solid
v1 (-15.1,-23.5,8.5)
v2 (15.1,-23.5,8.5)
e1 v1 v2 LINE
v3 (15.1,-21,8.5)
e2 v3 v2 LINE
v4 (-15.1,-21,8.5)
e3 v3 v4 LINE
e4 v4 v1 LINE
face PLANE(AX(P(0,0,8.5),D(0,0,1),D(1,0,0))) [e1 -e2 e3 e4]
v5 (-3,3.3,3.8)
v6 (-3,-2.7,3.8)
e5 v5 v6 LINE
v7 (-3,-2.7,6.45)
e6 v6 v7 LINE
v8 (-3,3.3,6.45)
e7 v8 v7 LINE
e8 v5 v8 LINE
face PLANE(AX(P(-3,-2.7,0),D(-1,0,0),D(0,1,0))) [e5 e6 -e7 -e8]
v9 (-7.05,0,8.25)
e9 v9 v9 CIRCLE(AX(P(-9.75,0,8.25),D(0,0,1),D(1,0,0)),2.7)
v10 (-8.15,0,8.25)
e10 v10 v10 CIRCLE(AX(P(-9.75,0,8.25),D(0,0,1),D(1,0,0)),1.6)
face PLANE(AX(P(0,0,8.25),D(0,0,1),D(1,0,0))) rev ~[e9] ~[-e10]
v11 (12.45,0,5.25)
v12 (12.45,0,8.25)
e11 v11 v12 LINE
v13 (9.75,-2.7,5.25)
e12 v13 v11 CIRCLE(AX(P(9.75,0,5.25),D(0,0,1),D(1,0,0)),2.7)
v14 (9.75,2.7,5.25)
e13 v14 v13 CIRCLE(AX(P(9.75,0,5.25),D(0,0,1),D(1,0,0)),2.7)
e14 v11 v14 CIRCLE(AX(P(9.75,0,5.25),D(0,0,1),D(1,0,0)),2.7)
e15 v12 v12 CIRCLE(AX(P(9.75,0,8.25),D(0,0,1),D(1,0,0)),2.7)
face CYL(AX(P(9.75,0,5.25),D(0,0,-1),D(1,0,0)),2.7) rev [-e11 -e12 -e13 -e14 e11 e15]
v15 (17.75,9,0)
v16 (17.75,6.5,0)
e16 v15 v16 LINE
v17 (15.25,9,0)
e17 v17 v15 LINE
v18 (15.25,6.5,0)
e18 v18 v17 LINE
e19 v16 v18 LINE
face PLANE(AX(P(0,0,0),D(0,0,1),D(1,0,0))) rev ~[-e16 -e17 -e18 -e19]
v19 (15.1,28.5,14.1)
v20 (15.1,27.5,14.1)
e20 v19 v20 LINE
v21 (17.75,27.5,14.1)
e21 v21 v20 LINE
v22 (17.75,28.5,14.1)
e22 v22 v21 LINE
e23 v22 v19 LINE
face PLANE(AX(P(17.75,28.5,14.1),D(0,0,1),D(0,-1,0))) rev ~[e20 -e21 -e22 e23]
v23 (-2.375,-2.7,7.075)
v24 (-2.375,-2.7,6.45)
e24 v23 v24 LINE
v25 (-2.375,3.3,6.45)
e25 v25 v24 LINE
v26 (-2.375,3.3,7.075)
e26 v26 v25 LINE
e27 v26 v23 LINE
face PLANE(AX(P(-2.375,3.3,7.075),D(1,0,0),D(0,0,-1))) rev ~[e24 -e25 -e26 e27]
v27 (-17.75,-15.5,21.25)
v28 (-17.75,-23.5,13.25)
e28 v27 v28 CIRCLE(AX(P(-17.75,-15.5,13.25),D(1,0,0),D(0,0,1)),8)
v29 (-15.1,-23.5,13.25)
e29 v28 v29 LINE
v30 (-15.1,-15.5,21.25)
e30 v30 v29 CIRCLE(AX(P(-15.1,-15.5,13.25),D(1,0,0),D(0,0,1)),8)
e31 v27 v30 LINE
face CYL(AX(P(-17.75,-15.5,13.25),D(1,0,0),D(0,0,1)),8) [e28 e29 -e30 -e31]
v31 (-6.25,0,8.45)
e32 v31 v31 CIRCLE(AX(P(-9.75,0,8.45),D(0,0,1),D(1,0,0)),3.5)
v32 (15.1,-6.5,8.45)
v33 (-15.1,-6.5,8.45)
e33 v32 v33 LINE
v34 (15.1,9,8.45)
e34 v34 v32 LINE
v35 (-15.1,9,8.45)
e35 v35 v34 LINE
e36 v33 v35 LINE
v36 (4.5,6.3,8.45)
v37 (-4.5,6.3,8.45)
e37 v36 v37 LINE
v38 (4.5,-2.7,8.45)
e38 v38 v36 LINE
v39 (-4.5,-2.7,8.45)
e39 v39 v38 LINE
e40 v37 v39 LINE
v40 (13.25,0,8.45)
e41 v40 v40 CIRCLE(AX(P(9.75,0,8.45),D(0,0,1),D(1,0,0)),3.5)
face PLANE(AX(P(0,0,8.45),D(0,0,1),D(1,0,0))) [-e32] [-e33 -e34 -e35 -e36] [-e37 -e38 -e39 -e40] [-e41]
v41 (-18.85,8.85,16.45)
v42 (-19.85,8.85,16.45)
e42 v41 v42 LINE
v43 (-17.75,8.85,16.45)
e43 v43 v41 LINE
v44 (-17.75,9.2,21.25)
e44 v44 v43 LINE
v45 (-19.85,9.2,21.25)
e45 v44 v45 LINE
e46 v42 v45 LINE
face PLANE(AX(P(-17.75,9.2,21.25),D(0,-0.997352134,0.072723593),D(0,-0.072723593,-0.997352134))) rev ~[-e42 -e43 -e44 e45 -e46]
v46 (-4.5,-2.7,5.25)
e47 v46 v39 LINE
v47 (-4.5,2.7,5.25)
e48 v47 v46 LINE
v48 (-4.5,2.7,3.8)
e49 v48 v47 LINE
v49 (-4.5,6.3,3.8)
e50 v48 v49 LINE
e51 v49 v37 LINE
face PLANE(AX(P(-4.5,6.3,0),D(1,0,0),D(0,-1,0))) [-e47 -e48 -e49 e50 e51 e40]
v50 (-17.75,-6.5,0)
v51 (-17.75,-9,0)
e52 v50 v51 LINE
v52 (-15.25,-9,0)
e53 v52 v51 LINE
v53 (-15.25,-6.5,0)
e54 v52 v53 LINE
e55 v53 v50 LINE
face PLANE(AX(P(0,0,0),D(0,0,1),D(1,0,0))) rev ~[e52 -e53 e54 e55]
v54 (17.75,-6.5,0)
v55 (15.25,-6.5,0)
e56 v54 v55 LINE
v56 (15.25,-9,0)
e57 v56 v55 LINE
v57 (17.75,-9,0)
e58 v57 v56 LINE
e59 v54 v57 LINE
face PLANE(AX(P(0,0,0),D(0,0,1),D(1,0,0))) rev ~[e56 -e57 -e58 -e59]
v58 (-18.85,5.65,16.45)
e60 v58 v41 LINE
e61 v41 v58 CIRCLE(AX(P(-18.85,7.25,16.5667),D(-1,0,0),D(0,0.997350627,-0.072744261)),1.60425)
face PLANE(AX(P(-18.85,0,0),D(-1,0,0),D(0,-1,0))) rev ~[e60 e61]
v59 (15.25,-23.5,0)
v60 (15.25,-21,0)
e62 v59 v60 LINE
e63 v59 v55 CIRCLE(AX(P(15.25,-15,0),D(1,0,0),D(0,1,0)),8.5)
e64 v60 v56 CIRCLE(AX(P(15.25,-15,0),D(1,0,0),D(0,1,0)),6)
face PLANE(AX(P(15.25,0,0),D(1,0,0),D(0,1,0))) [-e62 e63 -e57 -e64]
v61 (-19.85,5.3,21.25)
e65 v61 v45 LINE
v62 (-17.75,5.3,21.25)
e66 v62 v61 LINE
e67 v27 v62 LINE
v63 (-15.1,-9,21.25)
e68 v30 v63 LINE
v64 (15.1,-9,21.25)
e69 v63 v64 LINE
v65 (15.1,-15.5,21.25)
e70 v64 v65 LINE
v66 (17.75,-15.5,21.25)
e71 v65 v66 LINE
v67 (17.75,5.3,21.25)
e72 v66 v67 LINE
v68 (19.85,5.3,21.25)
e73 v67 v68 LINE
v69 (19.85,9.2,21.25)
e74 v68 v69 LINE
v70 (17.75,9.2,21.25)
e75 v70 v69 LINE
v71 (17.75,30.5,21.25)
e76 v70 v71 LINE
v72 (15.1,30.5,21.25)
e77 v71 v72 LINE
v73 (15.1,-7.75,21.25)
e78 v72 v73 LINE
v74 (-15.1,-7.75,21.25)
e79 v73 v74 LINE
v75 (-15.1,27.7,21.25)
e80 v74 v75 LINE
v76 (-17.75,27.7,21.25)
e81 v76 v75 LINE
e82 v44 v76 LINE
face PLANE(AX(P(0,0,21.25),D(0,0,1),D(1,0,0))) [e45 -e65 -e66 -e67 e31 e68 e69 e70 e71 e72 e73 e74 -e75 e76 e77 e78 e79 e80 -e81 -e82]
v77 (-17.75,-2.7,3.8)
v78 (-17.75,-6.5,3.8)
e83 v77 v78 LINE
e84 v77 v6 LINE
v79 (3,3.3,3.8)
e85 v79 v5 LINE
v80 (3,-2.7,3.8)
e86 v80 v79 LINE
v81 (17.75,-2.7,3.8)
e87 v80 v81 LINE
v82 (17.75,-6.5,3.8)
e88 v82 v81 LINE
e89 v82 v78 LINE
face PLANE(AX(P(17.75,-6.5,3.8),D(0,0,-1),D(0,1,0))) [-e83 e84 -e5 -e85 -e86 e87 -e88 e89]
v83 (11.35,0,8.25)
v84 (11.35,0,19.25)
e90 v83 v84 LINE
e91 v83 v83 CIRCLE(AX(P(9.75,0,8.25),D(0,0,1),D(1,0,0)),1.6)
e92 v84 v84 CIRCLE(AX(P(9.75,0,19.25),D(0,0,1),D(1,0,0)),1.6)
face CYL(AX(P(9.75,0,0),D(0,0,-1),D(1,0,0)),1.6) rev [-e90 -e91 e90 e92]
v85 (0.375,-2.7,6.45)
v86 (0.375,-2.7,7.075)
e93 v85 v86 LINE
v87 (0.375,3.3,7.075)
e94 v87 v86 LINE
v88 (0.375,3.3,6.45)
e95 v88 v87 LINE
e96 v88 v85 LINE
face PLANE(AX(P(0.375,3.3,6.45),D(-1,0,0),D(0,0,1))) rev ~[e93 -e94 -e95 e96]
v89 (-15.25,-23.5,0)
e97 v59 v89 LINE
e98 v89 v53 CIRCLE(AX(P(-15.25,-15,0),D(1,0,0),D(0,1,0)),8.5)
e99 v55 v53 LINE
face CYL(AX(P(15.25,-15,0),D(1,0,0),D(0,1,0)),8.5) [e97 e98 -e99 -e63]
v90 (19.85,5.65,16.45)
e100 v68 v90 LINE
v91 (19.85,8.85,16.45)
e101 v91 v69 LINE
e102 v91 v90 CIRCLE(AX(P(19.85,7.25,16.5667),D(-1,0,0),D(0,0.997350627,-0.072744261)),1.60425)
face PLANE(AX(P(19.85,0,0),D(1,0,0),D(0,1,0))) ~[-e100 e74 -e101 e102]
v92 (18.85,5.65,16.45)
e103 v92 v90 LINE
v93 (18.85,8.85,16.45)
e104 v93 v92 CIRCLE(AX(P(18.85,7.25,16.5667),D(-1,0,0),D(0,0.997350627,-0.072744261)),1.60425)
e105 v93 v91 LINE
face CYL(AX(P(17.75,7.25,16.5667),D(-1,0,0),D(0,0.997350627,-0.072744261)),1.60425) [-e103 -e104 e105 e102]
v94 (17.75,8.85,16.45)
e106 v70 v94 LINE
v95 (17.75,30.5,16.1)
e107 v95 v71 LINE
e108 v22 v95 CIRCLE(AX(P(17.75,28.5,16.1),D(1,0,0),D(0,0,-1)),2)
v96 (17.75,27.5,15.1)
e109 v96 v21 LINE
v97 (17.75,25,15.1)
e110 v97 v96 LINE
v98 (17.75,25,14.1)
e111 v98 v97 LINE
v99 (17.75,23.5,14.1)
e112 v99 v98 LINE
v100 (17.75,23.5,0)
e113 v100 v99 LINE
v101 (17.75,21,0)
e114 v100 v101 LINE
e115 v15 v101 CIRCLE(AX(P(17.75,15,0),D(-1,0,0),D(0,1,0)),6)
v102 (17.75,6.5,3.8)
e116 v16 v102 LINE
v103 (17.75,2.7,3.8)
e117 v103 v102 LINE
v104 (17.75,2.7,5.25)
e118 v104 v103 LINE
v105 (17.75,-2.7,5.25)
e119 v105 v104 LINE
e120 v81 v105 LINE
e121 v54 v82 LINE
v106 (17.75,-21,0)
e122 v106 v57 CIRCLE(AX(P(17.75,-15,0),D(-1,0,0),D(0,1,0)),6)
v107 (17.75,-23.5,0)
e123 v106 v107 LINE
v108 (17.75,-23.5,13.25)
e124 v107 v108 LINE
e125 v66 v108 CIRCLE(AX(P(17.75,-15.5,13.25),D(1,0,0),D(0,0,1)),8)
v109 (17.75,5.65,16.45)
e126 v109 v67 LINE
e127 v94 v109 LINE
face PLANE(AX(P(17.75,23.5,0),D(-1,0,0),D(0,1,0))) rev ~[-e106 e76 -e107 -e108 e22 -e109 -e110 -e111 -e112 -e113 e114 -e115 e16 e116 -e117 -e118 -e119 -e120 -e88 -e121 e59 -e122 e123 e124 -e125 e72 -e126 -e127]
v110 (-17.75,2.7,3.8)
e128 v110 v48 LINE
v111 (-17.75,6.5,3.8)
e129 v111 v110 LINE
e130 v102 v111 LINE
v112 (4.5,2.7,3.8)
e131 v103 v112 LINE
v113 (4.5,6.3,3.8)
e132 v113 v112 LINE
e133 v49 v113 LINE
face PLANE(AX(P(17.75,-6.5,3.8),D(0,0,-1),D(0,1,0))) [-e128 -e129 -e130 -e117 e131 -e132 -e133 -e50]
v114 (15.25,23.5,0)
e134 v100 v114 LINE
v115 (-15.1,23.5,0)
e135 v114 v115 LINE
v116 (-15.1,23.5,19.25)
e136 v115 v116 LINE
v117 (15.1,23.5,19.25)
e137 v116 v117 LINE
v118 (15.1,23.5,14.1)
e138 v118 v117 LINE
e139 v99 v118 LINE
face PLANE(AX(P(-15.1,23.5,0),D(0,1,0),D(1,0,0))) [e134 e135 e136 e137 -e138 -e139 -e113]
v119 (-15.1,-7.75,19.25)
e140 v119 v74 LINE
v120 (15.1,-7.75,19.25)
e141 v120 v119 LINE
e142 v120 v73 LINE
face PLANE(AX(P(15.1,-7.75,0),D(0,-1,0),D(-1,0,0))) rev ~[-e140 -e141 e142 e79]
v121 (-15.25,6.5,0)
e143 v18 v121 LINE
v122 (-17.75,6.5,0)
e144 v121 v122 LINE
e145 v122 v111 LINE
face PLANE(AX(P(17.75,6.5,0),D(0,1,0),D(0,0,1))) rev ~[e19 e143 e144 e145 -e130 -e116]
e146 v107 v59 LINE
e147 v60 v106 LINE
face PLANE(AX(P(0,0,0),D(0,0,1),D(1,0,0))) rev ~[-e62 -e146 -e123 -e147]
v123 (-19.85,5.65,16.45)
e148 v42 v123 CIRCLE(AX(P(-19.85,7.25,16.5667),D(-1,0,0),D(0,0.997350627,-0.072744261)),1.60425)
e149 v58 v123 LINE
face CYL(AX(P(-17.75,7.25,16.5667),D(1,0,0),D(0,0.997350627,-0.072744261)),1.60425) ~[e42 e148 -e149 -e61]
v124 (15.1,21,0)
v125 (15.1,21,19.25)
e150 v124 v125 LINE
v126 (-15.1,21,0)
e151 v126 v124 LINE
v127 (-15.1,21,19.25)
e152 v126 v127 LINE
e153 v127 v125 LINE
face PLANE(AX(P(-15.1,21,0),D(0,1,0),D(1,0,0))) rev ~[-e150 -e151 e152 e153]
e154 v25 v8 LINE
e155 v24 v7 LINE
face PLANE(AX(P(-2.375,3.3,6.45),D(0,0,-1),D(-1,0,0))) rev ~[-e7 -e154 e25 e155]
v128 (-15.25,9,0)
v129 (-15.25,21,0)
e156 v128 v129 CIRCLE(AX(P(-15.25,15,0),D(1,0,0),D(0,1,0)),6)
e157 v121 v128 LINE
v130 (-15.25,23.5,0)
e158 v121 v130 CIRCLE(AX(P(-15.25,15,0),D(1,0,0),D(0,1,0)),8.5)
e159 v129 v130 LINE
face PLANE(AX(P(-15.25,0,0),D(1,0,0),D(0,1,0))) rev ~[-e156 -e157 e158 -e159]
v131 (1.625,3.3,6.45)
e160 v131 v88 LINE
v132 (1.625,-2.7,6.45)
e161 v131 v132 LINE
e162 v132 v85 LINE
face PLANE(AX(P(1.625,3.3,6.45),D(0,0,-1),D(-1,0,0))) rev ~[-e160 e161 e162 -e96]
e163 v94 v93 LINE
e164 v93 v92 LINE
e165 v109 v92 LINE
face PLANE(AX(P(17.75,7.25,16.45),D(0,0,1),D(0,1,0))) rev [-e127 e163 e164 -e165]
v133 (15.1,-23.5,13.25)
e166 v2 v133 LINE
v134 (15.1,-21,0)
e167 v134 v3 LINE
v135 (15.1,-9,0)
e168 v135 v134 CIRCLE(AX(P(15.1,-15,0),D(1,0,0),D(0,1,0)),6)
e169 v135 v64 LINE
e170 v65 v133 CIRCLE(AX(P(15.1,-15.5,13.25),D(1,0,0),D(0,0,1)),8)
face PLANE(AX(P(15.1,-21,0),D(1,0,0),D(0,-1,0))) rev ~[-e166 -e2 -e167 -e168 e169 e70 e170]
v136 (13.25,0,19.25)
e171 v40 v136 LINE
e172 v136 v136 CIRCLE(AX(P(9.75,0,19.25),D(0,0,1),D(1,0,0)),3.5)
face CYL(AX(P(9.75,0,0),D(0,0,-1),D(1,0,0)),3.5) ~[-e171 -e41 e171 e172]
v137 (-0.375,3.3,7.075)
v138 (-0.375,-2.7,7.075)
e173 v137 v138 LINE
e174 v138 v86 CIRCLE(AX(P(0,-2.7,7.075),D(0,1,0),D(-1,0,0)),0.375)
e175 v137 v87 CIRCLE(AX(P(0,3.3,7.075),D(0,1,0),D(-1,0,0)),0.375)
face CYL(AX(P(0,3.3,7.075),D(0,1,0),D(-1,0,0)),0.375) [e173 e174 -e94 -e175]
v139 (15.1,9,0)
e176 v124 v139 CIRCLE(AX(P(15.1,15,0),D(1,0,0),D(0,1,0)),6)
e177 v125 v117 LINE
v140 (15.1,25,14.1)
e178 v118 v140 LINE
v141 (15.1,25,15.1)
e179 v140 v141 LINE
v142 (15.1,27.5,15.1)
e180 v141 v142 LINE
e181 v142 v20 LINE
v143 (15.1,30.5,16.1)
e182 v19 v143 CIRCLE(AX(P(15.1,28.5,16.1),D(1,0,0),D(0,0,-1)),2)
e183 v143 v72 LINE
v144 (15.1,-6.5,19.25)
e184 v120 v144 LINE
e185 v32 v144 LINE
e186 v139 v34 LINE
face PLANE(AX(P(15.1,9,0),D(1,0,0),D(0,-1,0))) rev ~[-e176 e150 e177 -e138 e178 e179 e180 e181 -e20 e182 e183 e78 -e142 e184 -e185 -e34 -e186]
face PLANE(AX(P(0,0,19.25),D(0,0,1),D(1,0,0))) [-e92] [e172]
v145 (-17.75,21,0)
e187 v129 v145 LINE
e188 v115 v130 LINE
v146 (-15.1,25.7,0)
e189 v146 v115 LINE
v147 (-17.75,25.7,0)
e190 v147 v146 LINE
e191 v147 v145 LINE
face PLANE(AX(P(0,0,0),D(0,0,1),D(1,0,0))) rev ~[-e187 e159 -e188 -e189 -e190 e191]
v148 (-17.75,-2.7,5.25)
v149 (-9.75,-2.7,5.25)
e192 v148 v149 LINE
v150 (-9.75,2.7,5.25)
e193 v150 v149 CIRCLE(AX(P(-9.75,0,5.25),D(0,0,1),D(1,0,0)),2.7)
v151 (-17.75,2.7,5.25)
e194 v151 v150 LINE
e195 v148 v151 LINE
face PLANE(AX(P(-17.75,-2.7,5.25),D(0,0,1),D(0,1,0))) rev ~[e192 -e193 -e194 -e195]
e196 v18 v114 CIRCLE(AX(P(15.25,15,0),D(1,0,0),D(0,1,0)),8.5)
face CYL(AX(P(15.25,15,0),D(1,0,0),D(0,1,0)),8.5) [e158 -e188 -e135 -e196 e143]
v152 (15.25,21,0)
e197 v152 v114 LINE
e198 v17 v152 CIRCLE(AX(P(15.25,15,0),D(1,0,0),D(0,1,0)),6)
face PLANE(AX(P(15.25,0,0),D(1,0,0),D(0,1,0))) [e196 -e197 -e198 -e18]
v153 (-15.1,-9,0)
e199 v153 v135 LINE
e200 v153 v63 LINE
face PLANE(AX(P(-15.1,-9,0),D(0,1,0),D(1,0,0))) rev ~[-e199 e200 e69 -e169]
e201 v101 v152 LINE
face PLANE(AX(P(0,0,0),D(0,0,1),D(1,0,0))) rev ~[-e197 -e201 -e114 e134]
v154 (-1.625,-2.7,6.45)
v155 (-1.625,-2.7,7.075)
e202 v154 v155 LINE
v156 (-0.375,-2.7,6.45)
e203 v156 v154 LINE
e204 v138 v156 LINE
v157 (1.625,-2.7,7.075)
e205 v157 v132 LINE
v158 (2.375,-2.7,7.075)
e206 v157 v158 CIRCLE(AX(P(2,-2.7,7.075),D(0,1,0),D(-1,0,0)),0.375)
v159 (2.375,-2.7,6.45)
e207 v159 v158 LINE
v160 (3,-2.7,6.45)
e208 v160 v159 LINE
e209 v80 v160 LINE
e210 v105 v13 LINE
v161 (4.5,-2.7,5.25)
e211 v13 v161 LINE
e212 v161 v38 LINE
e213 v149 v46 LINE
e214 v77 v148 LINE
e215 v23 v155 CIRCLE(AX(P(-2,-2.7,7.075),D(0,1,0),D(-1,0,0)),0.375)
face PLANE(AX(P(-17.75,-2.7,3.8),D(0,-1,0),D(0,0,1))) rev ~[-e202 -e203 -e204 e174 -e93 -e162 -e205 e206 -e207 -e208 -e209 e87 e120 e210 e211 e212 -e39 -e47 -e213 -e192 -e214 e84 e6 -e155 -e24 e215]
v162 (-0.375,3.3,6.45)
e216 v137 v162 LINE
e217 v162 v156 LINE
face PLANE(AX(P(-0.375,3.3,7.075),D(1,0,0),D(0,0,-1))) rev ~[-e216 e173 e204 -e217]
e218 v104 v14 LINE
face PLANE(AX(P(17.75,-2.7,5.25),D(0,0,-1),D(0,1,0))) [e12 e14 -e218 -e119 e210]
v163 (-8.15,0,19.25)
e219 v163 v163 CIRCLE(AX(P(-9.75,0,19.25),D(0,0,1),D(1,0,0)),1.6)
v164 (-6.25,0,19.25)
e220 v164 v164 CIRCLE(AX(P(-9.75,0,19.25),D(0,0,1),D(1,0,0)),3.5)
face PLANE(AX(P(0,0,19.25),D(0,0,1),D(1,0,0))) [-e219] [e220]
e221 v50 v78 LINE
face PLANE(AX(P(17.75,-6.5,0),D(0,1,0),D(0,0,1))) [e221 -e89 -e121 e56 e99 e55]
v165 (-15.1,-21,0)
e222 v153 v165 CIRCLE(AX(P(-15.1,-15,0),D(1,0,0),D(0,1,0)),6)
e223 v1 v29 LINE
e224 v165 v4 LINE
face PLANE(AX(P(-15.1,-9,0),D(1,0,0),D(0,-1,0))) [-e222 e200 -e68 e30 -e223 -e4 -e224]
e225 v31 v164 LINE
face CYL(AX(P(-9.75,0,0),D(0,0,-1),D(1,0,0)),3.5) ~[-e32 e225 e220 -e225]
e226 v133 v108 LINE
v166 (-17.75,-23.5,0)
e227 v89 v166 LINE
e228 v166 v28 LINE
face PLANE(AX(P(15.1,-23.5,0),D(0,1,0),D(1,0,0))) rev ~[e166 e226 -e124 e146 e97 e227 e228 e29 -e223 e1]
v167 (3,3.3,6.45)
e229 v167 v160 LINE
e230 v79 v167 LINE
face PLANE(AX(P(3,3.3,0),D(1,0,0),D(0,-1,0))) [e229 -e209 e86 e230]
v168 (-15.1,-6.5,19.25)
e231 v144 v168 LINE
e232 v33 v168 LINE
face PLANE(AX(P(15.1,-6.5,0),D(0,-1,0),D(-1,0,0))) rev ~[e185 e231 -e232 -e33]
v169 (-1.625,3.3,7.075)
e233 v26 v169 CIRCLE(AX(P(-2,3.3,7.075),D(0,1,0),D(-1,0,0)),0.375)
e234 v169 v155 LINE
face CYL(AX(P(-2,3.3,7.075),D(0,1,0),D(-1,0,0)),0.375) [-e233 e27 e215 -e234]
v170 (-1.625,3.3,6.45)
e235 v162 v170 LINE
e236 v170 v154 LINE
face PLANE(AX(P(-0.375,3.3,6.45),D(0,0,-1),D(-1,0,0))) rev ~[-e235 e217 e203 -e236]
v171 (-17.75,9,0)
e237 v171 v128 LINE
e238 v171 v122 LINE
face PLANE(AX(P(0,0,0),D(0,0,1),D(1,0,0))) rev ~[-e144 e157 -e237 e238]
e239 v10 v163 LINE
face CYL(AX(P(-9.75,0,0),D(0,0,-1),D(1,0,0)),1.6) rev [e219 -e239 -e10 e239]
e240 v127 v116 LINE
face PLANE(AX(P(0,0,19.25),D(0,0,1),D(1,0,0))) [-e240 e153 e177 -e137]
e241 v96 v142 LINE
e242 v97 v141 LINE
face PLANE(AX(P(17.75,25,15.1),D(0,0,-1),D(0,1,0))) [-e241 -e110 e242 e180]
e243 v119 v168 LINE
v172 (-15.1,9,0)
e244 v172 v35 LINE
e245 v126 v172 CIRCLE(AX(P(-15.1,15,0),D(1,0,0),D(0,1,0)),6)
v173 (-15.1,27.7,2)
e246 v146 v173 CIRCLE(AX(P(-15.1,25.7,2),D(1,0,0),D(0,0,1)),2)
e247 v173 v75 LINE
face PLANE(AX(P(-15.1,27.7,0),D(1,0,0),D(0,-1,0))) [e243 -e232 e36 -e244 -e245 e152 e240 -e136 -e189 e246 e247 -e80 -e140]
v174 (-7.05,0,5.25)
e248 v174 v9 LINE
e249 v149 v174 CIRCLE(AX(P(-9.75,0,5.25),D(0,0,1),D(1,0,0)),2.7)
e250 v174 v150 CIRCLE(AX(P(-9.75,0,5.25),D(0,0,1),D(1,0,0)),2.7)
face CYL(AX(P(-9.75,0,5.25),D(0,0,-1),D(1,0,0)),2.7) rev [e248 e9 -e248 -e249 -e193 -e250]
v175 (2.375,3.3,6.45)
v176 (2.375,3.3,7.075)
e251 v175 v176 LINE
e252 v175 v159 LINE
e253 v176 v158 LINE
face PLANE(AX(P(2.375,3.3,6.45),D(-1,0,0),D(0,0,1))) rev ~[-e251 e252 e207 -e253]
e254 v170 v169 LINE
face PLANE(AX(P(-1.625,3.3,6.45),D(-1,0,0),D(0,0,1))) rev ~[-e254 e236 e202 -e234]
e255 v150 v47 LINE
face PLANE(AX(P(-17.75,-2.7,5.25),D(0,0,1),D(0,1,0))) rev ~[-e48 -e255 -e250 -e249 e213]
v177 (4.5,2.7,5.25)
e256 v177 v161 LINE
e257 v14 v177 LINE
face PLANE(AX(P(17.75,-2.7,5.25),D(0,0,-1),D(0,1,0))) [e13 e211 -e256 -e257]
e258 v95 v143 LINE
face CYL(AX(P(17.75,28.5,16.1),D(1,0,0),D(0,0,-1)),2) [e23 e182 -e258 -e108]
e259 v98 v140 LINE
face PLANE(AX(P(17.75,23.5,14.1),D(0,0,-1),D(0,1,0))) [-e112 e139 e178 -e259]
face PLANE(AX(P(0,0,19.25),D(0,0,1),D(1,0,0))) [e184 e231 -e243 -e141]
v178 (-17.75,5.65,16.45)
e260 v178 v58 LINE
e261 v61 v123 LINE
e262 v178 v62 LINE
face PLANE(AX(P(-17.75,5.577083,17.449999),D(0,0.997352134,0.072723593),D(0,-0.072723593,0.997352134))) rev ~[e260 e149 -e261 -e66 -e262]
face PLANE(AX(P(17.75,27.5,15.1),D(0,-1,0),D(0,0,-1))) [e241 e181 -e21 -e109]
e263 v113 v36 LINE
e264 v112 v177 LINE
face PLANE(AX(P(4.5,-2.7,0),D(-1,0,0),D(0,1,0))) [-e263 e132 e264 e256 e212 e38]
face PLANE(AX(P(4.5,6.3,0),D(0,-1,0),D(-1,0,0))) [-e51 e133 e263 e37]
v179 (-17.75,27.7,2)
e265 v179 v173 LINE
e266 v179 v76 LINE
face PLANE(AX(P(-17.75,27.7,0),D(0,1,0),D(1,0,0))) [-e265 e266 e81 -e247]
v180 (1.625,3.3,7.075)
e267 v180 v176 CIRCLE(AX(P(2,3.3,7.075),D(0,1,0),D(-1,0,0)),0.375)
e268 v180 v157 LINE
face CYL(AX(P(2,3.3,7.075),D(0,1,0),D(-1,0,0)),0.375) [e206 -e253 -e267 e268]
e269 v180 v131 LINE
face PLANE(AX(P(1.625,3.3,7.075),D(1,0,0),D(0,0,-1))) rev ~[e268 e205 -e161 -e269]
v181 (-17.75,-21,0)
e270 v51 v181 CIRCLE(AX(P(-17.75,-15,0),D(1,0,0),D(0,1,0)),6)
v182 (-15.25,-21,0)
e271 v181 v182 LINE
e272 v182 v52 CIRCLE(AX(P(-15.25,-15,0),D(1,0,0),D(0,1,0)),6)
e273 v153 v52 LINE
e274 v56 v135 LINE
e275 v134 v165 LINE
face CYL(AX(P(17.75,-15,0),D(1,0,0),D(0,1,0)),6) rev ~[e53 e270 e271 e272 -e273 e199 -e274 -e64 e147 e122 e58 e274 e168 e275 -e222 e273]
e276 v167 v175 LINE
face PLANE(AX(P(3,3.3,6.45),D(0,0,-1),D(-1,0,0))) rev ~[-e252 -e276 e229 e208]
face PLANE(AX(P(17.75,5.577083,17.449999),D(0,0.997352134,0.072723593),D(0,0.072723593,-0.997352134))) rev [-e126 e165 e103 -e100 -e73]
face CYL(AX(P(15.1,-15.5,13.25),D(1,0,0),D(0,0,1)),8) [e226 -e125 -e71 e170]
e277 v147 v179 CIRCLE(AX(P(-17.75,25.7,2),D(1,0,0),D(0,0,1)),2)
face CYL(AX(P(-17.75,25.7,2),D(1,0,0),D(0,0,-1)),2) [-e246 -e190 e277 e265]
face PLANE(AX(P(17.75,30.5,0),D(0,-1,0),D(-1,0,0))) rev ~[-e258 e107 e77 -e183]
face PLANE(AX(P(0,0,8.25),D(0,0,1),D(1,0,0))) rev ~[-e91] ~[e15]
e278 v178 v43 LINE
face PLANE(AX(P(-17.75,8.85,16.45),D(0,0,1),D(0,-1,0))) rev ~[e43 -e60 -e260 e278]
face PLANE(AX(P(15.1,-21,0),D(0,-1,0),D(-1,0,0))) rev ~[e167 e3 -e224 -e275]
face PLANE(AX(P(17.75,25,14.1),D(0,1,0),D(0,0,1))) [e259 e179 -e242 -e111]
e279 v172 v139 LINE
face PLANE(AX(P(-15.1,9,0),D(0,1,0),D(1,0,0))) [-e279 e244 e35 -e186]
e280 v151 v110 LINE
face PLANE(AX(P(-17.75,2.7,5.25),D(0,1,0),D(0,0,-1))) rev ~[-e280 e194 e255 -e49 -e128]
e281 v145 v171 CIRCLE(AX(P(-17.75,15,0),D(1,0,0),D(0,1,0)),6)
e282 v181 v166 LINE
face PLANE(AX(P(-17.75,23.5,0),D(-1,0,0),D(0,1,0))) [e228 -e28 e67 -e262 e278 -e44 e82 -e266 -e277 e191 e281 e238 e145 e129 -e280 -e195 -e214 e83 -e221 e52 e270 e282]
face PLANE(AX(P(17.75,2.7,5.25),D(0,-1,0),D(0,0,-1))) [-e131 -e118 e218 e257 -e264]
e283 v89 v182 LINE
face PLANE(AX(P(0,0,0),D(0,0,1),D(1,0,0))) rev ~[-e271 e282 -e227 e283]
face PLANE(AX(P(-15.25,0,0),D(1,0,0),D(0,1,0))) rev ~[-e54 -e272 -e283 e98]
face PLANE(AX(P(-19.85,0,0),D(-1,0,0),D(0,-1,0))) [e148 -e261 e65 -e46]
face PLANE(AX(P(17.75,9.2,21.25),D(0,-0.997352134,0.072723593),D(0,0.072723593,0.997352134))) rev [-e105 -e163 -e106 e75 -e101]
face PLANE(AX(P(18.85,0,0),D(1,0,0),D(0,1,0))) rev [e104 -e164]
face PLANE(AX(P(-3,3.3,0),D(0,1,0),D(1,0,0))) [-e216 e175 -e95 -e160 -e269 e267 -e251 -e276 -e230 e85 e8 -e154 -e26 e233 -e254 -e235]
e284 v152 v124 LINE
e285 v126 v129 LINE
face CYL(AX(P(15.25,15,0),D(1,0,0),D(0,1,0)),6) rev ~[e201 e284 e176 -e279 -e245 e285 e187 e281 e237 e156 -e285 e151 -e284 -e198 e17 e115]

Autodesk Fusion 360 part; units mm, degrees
sketch "Sketch1" plane through (0, 0, 0) normal (0, 0, 1) x (1, 0, 0) in component "LM6LUU"
  circle A0 centre (0, 0) radius 6
  circle A1 centre (0, 0) radius 3
  dimension "d1" = 12
  dimension "d2" = 6
extrude "Extrude1" add sketch "Sketch1" along normal blind 34 makes body 1 in component "LM6LUU"
copy_body "CutPasteBodies1" bodies 1 removing the originals makes body 2 in component "LM6LUU"
component "LM6LUU" placed x (1, 0, 0) y (0, 1, 0) z (0, 0, 1) at (0, 0, 0)

Autodesk Fusion 360 part; units mm, degrees
sketch "Back" plane through (0, 0, 0) normal (0, 0, 1) x (1, 0, 0) in component "X Carriage"
  line L0 (17.75, 23.5) -> (-17.75, 23.5) construction
  line L1 (-17.75, 23.5) -> (-17.75, -23.5)
  line L2 (-17.75, -23.5) -> (17.75, -23.5)
  line L3 (17.75, -23.5) -> (17.75, 23.5)
  line L4 (0, 23.5) -> (0, -23.5) construction
  line L5 (-17.75, 23.5) -> (-17.75, 27.7)
  line L6 (-17.75, 27.7) -> (-15.1, 27.7)
  line L7 (17.75, 23.5) -> (17.75, 30.5)
  line L8 (17.75, 30.5) -> (15.1, 30.5)
  line L9 (15.1, 30.5) -> (15.1, 23.5)
  line L10 (-15.1, 27.7) -> (-15.1, 23.5)
  line L11 (-15.1, 23.5) -> (15.1, 23.5)
  line L12 (-15.1, 21) -> (15.1, 21)
  line L13 (15.1, 21) -> (15.1, -6.5)
  line L14 (15.1, -6.5) -> (-15.1, -6.5)
  line L15 (-15.1, -6.5) -> (-15.1, 21)
  line L16 (-15.1, -9) -> (15.1, -9)
  line L17 (15.1, -9) -> (15.1, -23.5)
  line L18 (-15.1, -9) -> (-15.1, -23.5)
  line L19 (15.1, -21) -> (-15.1, -21)
  line L20 (-9.75, 0) -> (9.75, 0) construction
  circle A0 centre (-9.75, 0) radius 1.6
  circle A1 centre (9.75, 0) radius 1.6
  circle A2 centre (-9.75, 0) radius 3.5
  circle A3 centre (9.75, 0) radius 3.5
  line L21 (15.1, -7.75) -> (-15.1, -7.75)
  line L22 (-15.1, -7.75) -> (-15.1, -6.5)
  line L23 (15.1, -7.75) -> (15.1, -6.5)
  line L24 (17.75, 9.2) -> (19.75, 9.2)
  line L25 (19.75, 9.2) -> (19.75, 5.3)
  line L26 (19.75, 5.3) -> (17.75, 5.3)
  line L27 (-17.75, 9.2) -> (-19.75, 9.2)
  line L28 (-19.75, 9.2) -> (-19.75, 5.3)
  line L29 (-19.75, 5.3) -> (-17.75, 5.3)
  line L30 (-4.5, -2.7) -> (4.5, -2.7)
  line L31 (4.5, -2.7) -> (4.5, 6.3)
  line L32 (4.5, 6.3) -> (-4.5, 6.3)
  line L33 (-4.5, 6.3) -> (-4.5, -2.7)
  line L34 (-3, -2.7) -> (-3, 3.3)
  line L35 (-3, 3.3) -> (3, 3.3)
  line L36 (3, 3.3) -> (3, -2.7)
  circle A4 centre (9.75, 0) radius 2.7
  circle A5 centre (-9.75, 0) radius 2.7
  line L37 (-15.1, 21) -> (-15.1, 23.5)
  line L38 (15.1, 21) -> (15.1, 23.5)
  line L39 (-15.1, 9) -> (15.1, 9)
  point P0 (0, 21)
  point P1 (0, -2.7)
  point P2 (0, 3.3)
  dimension "d1" = 35.5
  dimension "d2" = 47
  dimension "d3" = 4.2
  dimension "d5" = 7
  dimension "d7" = 30.2
  dimension "d8" = 27.5
  dimension "d9" = 2.5
  dimension "d10" = 2.5
  dimension "d11" = 2.5
  dimension "d12" = 19.5
  dimension "d13" = 3.2
  dimension "d14" = 3.2
  dimension "d15" = 7
  dimension "d16" = 7
  dimension "d17" = 21
  dimension "d18" = 1.25
  dimension "d20" = 3.9
  dimension "d21" = 2
  dimension "d22" = 28.8
  dimension "d23" = 9
  dimension "d24" = 9
  dimension "d25" = 6
  dimension "d26" = 6
  dimension "d27" = 5.4
  dimension "d28" = 5.4
  dimension "d37" = 12
extrude "Extrude1" add sketch "Back" along normal blind 21.25 contours L1 L2 L3 L5 L6 L7 L8 L9 L10 L13 L15 L16 L17 L18 L21 L22 L23 L37 L38 makes body 1 in component "X Carriage"
extrude "Extrude2" add sketch "Back" along normal blind 19.25 contours L11 L12 L37 L38 | L14 L21 L22 L23 | A2 | A3 | A4 | A5 bodies 1 makes body 2 at (13.2326, -0.3485, 12.8333) makes body 3 at (-6.2674, -0.3485, 12.8333) in component "X Carriage"
extrude "Extrude3" add sketch "Back" along normal blind 8.5 contours L2 L17 L18 L19 bodies 1 in component "X Carriage"
extrude "Extrude4" add sketch "Back" along normal blind 8.45 contours L13 L14 L15 L39 | L30 L34 L35 L36 bodies 1 2 3 in component "X Carriage"
sketch "Side" plane through (17.75, 0, 0) normal (1, 0, 0) x (0, 1, 0) in component "X Carriage"
  line L0 (-23.5, 0) -> (30.5, 0) construction
  line L1 (30.5, 21.25) -> (-23.5, 21.25) construction
  line L2 (-23.5, 21.25) -> (-23.5, 0) construction
  circle A0 centre (15, 0) radius 6
  circle A1 centre (-15, 0) radius 6
  circle A2 centre (-15, 0) radius 8.5
  circle A3 centre (15, 0) radius 8.5
  line L3 (23.5, 0) -> (23.5, 19.25) construction
  line L4 (9, 8.45) -> (-6.5, 8.45) construction
  line L5 (9, 0) -> (9, 8.45) construction
  line L6 (-9, 0) -> (-9, 21.25) construction
  line L7 (-6.5, 8.45) -> (-6.5, 19.25) construction
  line L8 (-6.5, 0) -> (-6.5, 3.8)
  line L9 (6.5, 0) -> (6.5, 3.8)
  line L10 (-6.5, 3.8) -> (6.5, 3.8)
  line L11 (-6.5, 0) -> (6.5, 0)
  line L12 (-2.7, 3.8) -> (-2.7, 5.25)
  line L13 (-2.7, 5.25) -> (2.7, 5.25)
  line L14 (2.7, 5.25) -> (2.7, 3.8)
  line L15 (0, 5.25) -> (0, 3.8) construction
  line L16 (-23.5, 0) -> (23.5, 0)
  line L17 (30.5, 21.25) -> (30.5, 16.1)
  line L18 (28.5, 14.1) -> (23.5, 14.1) construction
  line L19 (25, 15.1) -> (27.5, 15.1)
  line L20 (23.5, 14.1) -> (25, 14.1)
  line L21 (25, 14.1) -> (25, 15.1)
  line L22 (27.5, 15.1) -> (27.5, 14.1)
  line L23 (30.5, 14.1) -> (27.5, 14.1) construction
  arc A4 (28.5, 14.1) -> (30.5, 16.1) centre (28.5, 16.1) ccw
  line L24 (30.5, 16.1) -> (30.5, 0)
  line L25 (30.5, 0) -> (23.5, 0)
  line L26 (23.5, 0) -> (23.5, 14.1)
  line L27 (28.5, 14.1) -> (27.5, 14.1)
  line L28 (30.5, 0) -> (30.5, 21.25)
  dimension "d38" = 12
  dimension "d39" = 12
  dimension "d40" = 17
  dimension "d41" = 17
  dimension "d42" = 30
  dimension "d43" = 3.8
  dimension "d44" = 3.8
  dimension "d45" = 1.45
  dimension "d46" = 13
  dimension "d47" = 5.4
  dimension "d48" = 7.15
  dimension "d49" = 2.5
  dimension "d50" = 1.5
  dimension "d51" = 1
  dimension "d52" = 7
  dimension "d53" = 2
extrude "Extrude5" cut sketch "Side" against normal blind 35.5 contours A0 L16 | A0 L16 | L8 L9 L10 L11 L16 | A1 L16 | A1 L16 bodies 1 in component "X Carriage"
extrude "Extrude6" add sketch "Side" along normal blind -33 and the other way blind 2.5 contours A0 A3 L16 | A1 A2 L16 picked at (22.635, -0.4223) picked at (-7.3873, -0.7204) bodies 1 in component "X Carriage"
extrude "Extrude7" cut sketch "Side" against normal blind 2.65 contours L19 L20 L21 L22 A4 L24 L25 L26 L27 L28 bodies 1 in component "X Carriage"
fillet "Fillet1" radius 2 1 edges at (-16.425, 27.7, 0) on bodies 1 in component "X Carriage"
fillet "Fillet2" radius 8 3 edges at (16.425, -23.5, 21.25) (-16.425, -23.5, 21.25) (16.425, -23.5, 21.25) on bodies 1 in component "X Carriage"
extrude "Extrude8" cut sketch "Side" against normal blind 14 contours L10 L12 L13 L14 bodies 1 in component "X Carriage"
extrude "Extrude9" cut sketch "Side" along normal blind 14 from surface at -35.5 contours L10 L12 L13 L14 bodies 1 in component "X Carriage"
extrude "Extrude10" cut sketch "Back" along normal blind 3 from surface at 5.25 contours A4 | A5 bodies 1 in component "X Carriage"
sketch "Belt Catch" plane through (0, 3.3, 0) normal (0, 1, 0) x (-1, 0, 0) in component "X Carriage"
  line L0 (-3, 3.8) -> (3, 3.8)
  line L1 (3, 3.8) -> (3, 8.45)
  line L2 (3, 8.45) -> (-3, 8.45)
  line L3 (-3, 8.45) -> (-3, 3.8)
  line L4 (-3, 8.45) -> (3, 8.45)
  line L5 (-3, 3.8) -> (-3, 8.45)
  line L6 (3, 3.8) -> (3, 8.45)
  line L7 (-3, 3.8) -> (3, 3.8)
  line L8 (-3, 6.45) -> (3, 6.45)
  line L9 (0, 6.45) -> (0, 8.45) construction
  line L10 (-0.375, 6.45) -> (-0.375, 7.075)
  line L11 (-0.375, 7.075) -> (0.375, 7.075) construction
  line L12 (0.375, 7.075) -> (0.375, 6.45)
  arc A0 (0.375, 7.075) -> (-0.375, 7.075) centre (0, 7.075) ccw
  line L13 (-1.625, 7.075) -> (-1.625, 6.45)
  arc A1 (-1.625, 7.075) -> (-2.375, 7.075) centre (-2, 7.075) ccw
  line L14 (-2.375, 6.45) -> (-2.375, 7.075)
  line L15 (2.375, 7.075) -> (2.375, 6.45)
  arc A2 (2.375, 7.075) -> (1.625, 7.075) centre (2, 7.075) ccw
  line L16 (1.625, 6.45) -> (1.625, 7.075)
  point P0 (0, 7.075)
  dimension "d72" = 2
  dimension "d73" = 0.625
  dimension "d74" = 0.75
  dimension "d77" = 2
  dimension "d78" = 0
extrude "Extrude11" cut sketch "Belt Catch" against normal blind 6 contours L1 L2 L3 L4 L5 L6 L8 L10 L12 A0 L13 A1 L14 L15 A2 L16 bodies 1 in component "X Carriage"
sketch "Sping Catch" plane through (-17.75, 0, 0) normal (-1, 0, 0) x (0, -1, 0) in component "X Carriage"
  line L0 (-2.7, 3.8) -> (-2.7, 5.25)
  line L1 (-2.7, 5.25) -> (2.7, 5.25)
  line L2 (2.7, 5.25) -> (2.7, 3.8)
  line L3 (2.7, 3.8) -> (6.5, 3.8)
  line L4 (6.5, 3.8) -> (6.5, 0)
  line L5 (6.5, 0) -> (9, 0)
  arc A0 (21, 0) -> (9, 0) centre (15, 0) ccw
  line L6 (21, 0) -> (23.5, 0)
  line L7 (23.5, 0) -> (23.5, 13.25)
  arc A1 (23.5, 13.25) -> (15.5, 21.25) centre (15.5, 13.25) ccw
  line L8 (15.5, 21.25) -> (-27.7, 21.25)
  line L9 (-27.7, 21.25) -> (-27.7, 2)
  arc A2 (-27.7, 2) -> (-25.7, 0) centre (-25.7, 2) ccw
  line L10 (-25.7, 0) -> (-21, 0)
  arc A3 (-9, 0) -> (-21, 0) centre (-15, 0) ccw
  line L11 (-9, 0) -> (-6.5, 0)
  line L12 (-6.5, 0) -> (-6.5, 3.8)
  line L13 (-6.5, 3.8) -> (-2.7, 3.8)
  line L14 (-27.7, 2) -> (-27.7, 21.25)
  line L15 (-27.7, 21.25) -> (15.5, 21.25)
  line L16 (-9.2, 21.25) -> (-8.85, 16.45)
  line L17 (-8.85, 16.45) -> (-5.65, 16.45)
  line L18 (-5.65, 16.45) -> (-5.3, 21.25)
  line L19 (-9.2, 21.25) -> (-5.3, 21.25)
  line L20 (-7.25, 21.25) -> (-7.25, 16.45) construction
  arc A4 (-8.85, 16.45) -> (-5.65, 16.45) centre (-7.25, 16.5667) ccw
  line L21 (-5.3, 0) -> (-5.3, 21.25) construction
  line L22 (-9.2, 0) -> (-9.2, 21.25) construction
  arc A5 (-8.9229, 17.45) -> (-5.5771, 17.45) centre (-7.25, 18.3493) ccw
  point P0 (-9.2, 0)
  point P1 (-5.3, 0)
  dimension "d82" = 3.2
  dimension "d83" = 4.8
  dimension "d84" = 1.6026
  dimension "d91" = 3.9
  dimension "d92" = 1
extrude "Extrude12" add sketch "Sping Catch" along normal blind 2.1 contours L8 L15 L16 L18 L19 A5 | L16 L17 A5 | L17 L18 A5 | L17 A4 bodies 1 in component "X Carriage"
extrude "Extrude13" cut sketch "Sping Catch" along normal blind 1.1 contours L17 A4 bodies 1 in component "X Carriage"
mirror "Mirror1" about plane through (0, 0, 0) normal (1, 0, 0) of "Extrude12", "Extrude13" in component "X Carriage"
component "X Carriage" placed x (1, 0, 0) y (0, 1, 0) z (0, 0, 1) at (0, 0, 0)
equation "d31 = 21.25 mm - 2 mm"
equation "d35 = 21.25 mm - 12.8 mm"
equation "d56 = -35.50 mm + 2.5 mm"
equation "d73 = 1 mm - ( 0.75 / 2 ) * 1 mm"
